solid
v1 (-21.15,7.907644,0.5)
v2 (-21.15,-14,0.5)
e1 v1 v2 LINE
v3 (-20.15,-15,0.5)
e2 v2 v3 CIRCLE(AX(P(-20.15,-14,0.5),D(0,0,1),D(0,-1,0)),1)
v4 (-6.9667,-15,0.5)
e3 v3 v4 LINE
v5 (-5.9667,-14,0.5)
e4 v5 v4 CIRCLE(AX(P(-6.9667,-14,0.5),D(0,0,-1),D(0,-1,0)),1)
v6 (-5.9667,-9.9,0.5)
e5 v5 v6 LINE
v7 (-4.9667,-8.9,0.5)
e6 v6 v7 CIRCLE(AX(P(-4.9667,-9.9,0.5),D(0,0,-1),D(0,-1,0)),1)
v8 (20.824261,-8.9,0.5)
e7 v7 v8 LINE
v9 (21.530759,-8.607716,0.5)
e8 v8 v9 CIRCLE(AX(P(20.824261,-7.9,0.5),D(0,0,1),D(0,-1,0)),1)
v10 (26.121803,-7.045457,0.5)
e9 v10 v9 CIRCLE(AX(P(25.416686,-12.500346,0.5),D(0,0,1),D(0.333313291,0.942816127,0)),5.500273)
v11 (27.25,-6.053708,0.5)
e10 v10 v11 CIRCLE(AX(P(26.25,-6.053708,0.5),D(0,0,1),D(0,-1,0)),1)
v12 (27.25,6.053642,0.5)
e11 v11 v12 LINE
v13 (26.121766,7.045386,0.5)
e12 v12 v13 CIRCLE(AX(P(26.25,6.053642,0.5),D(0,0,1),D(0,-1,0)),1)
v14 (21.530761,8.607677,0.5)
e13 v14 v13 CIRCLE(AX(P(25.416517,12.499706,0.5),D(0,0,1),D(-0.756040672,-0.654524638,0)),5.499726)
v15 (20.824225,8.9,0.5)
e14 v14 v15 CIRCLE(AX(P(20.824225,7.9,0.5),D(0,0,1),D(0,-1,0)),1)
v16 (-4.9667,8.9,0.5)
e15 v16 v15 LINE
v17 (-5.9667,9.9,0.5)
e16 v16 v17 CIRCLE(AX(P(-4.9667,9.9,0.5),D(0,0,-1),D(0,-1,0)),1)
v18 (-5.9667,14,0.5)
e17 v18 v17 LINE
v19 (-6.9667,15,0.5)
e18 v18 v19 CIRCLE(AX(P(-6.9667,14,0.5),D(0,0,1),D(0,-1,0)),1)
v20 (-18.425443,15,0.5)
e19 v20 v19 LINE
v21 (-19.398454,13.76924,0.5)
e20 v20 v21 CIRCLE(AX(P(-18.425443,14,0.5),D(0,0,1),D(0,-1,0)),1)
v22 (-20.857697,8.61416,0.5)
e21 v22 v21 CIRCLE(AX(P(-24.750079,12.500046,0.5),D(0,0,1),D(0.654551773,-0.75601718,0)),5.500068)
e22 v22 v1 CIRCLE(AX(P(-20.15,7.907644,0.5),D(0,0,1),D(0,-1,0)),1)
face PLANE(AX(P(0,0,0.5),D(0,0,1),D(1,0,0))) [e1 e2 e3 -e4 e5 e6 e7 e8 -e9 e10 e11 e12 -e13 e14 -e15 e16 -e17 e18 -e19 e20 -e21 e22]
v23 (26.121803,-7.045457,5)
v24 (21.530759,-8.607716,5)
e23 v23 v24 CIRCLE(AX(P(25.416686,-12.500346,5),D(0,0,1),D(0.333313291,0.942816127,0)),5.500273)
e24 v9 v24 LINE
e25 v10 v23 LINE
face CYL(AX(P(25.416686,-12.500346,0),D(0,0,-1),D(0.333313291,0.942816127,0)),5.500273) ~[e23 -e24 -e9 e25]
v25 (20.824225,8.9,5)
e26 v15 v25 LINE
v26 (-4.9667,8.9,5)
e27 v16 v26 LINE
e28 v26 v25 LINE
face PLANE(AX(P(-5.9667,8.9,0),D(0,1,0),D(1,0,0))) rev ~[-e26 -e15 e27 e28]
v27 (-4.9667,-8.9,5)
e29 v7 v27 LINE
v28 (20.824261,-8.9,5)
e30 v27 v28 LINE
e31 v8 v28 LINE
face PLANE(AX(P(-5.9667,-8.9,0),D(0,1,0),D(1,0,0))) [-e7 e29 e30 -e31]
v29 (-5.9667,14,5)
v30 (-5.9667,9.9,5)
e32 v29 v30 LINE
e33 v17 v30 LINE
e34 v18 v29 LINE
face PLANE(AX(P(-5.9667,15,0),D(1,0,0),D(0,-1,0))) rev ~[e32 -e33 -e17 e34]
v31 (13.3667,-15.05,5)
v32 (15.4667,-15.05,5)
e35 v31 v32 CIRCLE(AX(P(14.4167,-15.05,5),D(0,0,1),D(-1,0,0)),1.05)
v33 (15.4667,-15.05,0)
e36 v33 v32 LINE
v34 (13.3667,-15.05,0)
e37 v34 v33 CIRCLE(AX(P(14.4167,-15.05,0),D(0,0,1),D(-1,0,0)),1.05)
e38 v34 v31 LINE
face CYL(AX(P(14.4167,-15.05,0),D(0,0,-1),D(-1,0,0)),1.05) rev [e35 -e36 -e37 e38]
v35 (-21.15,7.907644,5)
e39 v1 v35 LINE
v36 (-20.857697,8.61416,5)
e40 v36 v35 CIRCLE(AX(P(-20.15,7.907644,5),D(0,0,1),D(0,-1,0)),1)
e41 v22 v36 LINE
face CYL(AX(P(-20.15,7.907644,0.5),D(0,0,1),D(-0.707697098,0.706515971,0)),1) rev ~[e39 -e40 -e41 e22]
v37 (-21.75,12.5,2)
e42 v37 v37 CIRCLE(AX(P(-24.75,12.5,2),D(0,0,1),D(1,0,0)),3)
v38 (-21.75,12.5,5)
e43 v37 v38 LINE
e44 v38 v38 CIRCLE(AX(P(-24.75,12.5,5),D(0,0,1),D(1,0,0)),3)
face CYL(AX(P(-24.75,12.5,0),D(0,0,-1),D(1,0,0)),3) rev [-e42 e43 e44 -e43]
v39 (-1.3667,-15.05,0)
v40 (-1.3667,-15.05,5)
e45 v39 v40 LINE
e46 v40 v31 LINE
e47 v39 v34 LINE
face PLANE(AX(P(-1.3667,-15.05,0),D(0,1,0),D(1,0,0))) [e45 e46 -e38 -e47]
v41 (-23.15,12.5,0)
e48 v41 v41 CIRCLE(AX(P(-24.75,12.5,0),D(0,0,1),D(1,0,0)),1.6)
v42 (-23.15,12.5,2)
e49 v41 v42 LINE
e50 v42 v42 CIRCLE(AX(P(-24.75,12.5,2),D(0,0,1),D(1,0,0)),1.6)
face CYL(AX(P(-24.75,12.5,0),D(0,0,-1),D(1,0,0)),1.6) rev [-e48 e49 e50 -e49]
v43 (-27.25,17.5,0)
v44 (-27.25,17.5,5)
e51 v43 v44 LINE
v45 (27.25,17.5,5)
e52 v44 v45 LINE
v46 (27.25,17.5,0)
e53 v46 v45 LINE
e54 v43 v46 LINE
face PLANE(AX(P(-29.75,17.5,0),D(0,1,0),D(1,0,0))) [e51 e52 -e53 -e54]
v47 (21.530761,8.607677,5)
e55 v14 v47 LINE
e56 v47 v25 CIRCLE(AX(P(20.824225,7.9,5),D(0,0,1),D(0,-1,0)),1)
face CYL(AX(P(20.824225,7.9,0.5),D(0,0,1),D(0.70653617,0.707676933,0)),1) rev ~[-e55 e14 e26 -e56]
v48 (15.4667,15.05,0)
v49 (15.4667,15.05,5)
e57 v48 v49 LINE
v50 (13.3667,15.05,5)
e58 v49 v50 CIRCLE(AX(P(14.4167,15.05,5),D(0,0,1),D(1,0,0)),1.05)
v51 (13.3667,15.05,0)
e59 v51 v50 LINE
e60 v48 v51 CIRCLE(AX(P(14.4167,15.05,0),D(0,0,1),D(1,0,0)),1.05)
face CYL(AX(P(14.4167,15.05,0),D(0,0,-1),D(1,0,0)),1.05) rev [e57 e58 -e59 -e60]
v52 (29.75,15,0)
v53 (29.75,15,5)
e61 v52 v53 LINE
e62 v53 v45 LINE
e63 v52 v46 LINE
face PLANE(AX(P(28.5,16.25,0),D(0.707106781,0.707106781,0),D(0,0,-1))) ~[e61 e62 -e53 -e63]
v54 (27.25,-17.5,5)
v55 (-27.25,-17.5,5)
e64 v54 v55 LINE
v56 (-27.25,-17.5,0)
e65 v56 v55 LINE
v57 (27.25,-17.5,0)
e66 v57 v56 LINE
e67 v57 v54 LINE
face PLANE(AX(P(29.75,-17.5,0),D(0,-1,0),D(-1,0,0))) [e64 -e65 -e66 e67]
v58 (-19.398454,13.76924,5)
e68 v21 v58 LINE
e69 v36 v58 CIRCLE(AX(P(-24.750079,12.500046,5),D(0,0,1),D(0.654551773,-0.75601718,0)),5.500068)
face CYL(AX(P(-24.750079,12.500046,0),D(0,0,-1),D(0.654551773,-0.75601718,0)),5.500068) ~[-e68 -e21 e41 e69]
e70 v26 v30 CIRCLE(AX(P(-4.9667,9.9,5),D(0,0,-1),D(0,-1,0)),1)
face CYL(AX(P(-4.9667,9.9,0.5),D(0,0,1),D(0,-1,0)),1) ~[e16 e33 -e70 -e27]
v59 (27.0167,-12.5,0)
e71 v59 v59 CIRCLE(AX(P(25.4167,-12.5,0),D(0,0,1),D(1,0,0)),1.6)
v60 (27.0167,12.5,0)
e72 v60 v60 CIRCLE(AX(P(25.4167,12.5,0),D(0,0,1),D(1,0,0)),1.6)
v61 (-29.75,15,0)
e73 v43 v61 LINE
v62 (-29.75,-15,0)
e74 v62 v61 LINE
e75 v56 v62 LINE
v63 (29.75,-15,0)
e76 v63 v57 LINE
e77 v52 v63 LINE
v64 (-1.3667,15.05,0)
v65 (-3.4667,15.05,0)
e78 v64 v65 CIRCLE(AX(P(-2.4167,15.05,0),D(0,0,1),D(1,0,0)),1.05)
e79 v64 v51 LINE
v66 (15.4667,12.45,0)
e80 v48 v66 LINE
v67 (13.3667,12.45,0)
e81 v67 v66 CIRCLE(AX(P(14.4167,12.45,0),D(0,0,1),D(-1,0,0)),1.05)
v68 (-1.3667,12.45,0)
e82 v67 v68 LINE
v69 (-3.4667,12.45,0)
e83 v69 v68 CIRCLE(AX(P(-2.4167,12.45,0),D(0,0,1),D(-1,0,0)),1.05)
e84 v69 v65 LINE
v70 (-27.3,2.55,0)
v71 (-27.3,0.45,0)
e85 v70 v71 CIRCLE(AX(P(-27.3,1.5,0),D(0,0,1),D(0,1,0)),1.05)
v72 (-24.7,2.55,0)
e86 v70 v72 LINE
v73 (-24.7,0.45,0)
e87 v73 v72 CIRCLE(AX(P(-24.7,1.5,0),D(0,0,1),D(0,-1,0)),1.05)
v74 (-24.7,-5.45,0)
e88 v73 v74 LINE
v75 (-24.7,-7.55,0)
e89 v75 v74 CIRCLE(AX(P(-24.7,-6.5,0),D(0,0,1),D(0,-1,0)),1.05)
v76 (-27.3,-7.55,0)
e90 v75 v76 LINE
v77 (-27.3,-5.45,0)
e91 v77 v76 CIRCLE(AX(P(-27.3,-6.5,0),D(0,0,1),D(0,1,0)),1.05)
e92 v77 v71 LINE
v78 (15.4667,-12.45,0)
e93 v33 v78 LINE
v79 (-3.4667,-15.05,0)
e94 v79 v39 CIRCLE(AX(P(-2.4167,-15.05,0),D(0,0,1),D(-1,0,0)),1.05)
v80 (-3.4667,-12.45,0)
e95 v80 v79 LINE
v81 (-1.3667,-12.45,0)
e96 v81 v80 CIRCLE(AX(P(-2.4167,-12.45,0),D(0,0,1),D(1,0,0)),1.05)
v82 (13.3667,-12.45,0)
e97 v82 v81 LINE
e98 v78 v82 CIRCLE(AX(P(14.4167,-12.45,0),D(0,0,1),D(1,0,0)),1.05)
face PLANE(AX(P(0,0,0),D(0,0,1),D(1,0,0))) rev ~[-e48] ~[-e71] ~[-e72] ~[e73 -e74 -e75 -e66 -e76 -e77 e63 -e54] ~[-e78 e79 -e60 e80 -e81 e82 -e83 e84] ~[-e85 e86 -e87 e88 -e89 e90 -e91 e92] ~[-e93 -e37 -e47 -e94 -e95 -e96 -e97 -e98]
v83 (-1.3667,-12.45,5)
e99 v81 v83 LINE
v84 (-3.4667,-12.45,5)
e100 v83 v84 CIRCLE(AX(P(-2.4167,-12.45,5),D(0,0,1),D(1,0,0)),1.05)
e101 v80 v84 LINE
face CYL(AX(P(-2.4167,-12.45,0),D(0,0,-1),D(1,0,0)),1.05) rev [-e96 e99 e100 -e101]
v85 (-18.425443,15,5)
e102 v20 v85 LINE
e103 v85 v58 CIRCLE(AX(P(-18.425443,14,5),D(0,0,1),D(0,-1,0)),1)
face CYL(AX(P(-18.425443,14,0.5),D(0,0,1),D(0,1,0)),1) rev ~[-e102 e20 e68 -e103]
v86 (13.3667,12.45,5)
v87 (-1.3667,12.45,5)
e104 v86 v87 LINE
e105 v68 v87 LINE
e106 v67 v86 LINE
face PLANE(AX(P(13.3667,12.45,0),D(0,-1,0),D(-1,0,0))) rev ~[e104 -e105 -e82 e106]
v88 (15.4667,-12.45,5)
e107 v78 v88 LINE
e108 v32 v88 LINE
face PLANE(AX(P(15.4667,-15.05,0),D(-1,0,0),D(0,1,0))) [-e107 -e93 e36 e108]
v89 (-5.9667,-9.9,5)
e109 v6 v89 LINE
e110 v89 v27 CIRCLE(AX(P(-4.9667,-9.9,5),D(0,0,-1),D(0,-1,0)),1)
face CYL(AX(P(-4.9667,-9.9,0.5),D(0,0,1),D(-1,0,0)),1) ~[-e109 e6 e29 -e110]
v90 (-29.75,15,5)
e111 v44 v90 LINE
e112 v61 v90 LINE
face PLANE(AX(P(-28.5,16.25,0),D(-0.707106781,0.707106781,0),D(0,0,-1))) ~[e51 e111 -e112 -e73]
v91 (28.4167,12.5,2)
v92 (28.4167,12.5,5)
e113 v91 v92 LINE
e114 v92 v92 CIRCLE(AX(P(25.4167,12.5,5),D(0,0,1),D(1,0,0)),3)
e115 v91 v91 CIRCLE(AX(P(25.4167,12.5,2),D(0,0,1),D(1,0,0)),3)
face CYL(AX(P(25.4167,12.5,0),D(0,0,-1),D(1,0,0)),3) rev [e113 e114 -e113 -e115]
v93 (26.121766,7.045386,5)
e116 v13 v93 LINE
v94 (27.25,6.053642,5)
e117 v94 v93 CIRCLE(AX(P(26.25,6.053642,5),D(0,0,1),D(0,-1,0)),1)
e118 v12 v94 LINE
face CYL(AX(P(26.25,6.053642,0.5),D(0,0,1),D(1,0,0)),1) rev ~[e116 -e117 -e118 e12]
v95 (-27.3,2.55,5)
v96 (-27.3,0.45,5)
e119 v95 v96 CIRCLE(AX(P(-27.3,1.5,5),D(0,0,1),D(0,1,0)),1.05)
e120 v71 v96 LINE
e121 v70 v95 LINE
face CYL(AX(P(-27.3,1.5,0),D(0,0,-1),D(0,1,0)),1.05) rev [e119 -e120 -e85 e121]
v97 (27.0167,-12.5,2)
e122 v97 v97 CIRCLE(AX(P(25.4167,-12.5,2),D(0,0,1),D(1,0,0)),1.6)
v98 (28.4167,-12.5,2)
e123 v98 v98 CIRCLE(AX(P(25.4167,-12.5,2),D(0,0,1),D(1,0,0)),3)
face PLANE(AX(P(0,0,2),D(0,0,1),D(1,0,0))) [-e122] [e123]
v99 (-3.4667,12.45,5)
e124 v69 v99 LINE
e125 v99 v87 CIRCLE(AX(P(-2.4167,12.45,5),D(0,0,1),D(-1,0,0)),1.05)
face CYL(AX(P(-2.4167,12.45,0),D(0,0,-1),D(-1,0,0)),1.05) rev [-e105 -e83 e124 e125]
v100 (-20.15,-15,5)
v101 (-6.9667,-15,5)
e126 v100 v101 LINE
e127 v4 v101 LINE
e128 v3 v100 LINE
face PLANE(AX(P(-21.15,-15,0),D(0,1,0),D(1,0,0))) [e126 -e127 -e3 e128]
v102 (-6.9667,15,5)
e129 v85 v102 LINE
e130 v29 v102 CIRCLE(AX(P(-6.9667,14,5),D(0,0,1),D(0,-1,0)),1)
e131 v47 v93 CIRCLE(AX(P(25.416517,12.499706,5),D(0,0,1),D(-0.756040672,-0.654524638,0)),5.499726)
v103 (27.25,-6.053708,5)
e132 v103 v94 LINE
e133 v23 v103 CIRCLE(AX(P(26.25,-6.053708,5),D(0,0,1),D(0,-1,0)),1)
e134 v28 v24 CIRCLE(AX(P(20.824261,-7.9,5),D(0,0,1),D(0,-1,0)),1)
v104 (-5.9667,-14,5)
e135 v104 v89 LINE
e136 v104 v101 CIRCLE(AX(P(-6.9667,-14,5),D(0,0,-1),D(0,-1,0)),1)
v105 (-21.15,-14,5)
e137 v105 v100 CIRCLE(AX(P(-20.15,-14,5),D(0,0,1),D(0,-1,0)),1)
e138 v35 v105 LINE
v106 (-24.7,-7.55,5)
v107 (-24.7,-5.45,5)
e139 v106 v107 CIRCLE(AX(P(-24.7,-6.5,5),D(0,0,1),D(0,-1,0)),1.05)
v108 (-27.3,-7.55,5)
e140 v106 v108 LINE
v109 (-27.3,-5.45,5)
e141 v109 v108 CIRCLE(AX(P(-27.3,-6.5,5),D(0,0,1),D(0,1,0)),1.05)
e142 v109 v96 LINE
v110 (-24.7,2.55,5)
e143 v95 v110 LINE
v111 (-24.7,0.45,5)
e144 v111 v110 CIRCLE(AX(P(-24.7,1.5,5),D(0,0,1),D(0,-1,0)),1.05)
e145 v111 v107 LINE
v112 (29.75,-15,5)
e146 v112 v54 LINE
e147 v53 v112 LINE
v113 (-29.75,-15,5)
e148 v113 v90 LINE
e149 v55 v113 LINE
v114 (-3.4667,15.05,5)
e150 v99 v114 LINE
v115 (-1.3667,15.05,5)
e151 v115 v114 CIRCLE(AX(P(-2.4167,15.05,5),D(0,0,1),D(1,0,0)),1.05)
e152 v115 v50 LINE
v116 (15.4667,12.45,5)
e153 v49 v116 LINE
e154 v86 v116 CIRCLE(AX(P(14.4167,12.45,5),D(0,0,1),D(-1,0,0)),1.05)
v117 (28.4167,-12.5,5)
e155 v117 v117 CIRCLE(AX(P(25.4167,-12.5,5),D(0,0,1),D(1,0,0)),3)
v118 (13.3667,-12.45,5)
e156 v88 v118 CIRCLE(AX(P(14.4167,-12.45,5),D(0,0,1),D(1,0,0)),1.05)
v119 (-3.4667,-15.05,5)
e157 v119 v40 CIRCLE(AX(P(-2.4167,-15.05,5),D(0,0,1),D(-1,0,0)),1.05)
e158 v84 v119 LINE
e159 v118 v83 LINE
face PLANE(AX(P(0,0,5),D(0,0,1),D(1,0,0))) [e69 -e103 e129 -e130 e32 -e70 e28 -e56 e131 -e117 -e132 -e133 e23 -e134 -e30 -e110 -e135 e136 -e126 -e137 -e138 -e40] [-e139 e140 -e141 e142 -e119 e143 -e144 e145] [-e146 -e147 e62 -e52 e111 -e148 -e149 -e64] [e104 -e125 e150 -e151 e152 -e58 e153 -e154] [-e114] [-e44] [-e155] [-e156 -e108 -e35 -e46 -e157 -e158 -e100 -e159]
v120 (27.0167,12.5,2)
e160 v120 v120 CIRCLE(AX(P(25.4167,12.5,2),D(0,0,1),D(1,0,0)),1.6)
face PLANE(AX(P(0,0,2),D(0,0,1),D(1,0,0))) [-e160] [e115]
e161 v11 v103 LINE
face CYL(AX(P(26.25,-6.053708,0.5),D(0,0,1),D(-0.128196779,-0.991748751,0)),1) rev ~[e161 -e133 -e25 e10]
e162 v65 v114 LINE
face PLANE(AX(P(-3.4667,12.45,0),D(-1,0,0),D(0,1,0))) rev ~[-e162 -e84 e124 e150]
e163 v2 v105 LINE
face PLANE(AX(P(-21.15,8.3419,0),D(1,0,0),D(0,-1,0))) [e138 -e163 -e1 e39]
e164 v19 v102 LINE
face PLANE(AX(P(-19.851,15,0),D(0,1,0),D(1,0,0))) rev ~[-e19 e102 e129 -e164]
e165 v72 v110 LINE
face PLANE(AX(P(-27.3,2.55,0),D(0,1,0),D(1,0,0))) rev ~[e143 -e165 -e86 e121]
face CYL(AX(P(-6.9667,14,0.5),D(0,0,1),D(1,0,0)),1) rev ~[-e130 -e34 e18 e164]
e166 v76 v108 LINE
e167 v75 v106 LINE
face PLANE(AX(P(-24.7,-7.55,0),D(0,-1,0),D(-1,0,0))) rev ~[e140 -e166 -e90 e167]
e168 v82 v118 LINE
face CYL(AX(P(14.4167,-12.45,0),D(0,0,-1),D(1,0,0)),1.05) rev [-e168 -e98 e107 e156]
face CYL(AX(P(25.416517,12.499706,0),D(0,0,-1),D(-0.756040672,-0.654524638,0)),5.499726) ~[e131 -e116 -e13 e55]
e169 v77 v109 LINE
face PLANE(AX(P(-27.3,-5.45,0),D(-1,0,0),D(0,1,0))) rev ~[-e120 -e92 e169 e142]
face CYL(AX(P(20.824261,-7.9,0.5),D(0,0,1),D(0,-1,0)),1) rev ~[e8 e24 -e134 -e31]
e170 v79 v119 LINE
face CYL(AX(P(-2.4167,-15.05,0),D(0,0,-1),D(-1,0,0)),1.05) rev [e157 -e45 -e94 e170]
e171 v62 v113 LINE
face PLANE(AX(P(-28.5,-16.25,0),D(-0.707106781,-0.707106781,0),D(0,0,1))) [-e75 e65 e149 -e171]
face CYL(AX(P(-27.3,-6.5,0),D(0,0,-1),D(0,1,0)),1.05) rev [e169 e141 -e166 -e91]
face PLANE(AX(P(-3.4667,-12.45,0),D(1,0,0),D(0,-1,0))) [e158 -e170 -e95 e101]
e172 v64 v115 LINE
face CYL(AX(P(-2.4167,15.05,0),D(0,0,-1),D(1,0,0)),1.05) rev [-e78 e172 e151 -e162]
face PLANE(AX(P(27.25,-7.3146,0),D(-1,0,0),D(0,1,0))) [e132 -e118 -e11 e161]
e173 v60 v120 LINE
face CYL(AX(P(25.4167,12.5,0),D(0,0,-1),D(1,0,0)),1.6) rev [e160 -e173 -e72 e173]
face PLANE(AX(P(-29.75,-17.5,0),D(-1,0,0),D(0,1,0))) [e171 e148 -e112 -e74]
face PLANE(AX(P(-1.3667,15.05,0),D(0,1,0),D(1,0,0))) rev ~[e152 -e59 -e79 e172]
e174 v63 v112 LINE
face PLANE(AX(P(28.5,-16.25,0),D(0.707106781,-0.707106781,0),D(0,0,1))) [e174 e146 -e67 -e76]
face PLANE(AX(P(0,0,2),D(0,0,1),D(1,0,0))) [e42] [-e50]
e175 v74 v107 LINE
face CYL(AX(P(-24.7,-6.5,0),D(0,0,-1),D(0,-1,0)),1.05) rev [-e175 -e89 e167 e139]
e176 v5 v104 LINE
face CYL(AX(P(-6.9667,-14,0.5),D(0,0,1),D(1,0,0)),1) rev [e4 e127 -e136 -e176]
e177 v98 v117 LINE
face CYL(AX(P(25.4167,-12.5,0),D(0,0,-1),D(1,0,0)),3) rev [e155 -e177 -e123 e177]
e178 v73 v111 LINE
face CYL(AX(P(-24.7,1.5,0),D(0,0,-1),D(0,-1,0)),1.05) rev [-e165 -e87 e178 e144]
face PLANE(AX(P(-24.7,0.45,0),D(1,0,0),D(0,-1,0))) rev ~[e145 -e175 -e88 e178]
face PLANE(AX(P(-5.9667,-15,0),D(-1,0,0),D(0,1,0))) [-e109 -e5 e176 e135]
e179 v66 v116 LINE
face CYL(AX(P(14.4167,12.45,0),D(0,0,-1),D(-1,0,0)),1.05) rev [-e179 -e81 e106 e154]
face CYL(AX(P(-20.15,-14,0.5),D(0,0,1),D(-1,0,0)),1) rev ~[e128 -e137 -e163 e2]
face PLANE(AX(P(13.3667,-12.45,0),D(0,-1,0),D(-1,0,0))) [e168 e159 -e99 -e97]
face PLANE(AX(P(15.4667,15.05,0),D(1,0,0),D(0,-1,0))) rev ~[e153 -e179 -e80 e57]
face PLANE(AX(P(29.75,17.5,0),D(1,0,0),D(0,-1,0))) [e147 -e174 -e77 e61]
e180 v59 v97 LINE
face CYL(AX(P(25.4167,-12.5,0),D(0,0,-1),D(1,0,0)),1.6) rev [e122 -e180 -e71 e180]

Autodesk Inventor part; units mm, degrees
ref_plane "YZ Plane" through (0, 0, 0) normal (1, 0, 0) x (0, 1, 0)
ref_plane "XZ Plane" through (0, 0, 0) normal (0, 1, 0) x (-1, 0, 0)
ref_plane "XY Plane" through (0, 0, 0) normal (0, 0, 1) x (1, 0, 0)
sketch "スケッチ1" plane through (0, 0, 0) normal (0, 0, 1) x (1, 0, 0)
  line L0 (29.75, 17.5) -> (29.75, -17.5)
  line L1 (29.75, -17.5) -> (-29.75, -17.5)
  line L2 (-29.75, -17.5) -> (-29.75, 17.5)
  line L3 (-29.75, 17.5) -> (29.75, -17.5) construction
  line L4 (29.75, 17.5) -> (-29.75, -17.5) construction
  line L5 (-3.4667, -15.05) -> (-1.3667, -15.05) construction
  line L6 (15.4667, -15.05) -> (15.4667, -12.45)
  line L7 (15.4667, -12.45) -> (13.3667, -12.45) construction
  line L8 (-3.4667, -12.45) -> (-3.4667, -15.05)
  line L9 (-3.4667, -15.05) -> (15.4667, -12.45) construction
  line L10 (15.4667, -15.05) -> (-3.4667, -12.45) construction
  line L11 (-3.4167, -12.5) -> (15.4167, -12.5) construction
  line L12 (15.4167, -12.5) -> (15.4167, -15) construction
  line L13 (15.4167, -15) -> (-3.4167, -15) construction
  line L14 (-3.4167, -15) -> (-3.4167, -12.5) construction
  line L15 (-3.4167, -12.5) -> (15.4167, -15) construction
  line L16 (15.4167, -12.5) -> (-3.4167, -15) construction
  arc A0 (-1.3667, -12.45) -> (-3.4667, -12.45) centre (-2.4167, -12.45) ccw
  line L17 (-3.4667, -13.75) -> (15.4667, -13.75) construction
  arc A1 (-3.4667, -15.05) -> (-1.3667, -15.05) centre (-2.4167, -15.05) ccw
  line L18 (-1.3667, -12.45) -> (-3.4667, -12.45) construction
  line L19 (-1.3667, -15.05) -> (13.3667, -15.05)
  line L20 (13.3667, -12.45) -> (-1.3667, -12.45)
  line L21 (13.3667, -15.05) -> (15.4667, -15.05) construction
  line L22 (-29.75, 17.5) -> (29.75, 17.5)
  line L23 (6, 17.5) -> (6, -17.5) construction
  line L24 (-29.75, 0) -> (29.75, 0) construction
  arc A2 (15.4667, -12.45) -> (13.3667, -12.45) centre (14.4167, -12.45) ccw
  arc A3 (13.3667, -15.05) -> (15.4667, -15.05) centre (14.4167, -15.05) ccw
  line L25 (-3.4667, 15.05) -> (-1.3667, 15.05) construction
  line L26 (15.4667, 15.05) -> (15.4667, 12.45)
  line L27 (15.4667, 12.45) -> (13.3667, 12.45) construction
  line L28 (-3.4667, 12.45) -> (-3.4667, 15.05)
  line L29 (-3.4667, 15.05) -> (15.4667, 12.45) construction
  line L30 (15.4667, 15.05) -> (-3.4667, 12.45) construction
  line L31 (-3.4167, 12.5) -> (15.4167, 12.5) construction
  line L32 (15.4167, 12.5) -> (15.4167, 15) construction
  line L33 (15.4167, 15) -> (-3.4167, 15) construction
  line L34 (-3.4167, 15) -> (-3.4167, 12.5) construction
  line L35 (-3.4167, 12.5) -> (15.4167, 15) construction
  line L36 (15.4167, 12.5) -> (-3.4167, 15) construction
  arc A4 (-3.4667, 12.45) -> (-1.3667, 12.45) centre (-2.4167, 12.45) ccw
  line L37 (-3.4667, 13.75) -> (15.4667, 13.75) construction
  arc A5 (-1.3667, 15.05) -> (-3.4667, 15.05) centre (-2.4167, 15.05) ccw
  line L38 (-1.3667, 12.45) -> (-3.4667, 12.45) construction
  line L39 (-1.3667, 15.05) -> (13.3667, 15.05)
  line L40 (13.3667, 12.45) -> (-1.3667, 12.45)
  line L41 (13.3667, 15.05) -> (15.4667, 15.05) construction
  arc A6 (15.4667, 15.05) -> (13.3667, 15.05) centre (14.4167, 15.05) ccw
  arc A7 (13.3667, 12.45) -> (15.4667, 12.45) centre (14.4167, 12.45) ccw
  circle A8 centre (25.4167, -12.5) radius 1.6
  circle A9 centre (25.4167, -12.5) radius 3
  circle A10 centre (25.4167, 12.5) radius 1.6
  circle A11 centre (25.4167, 12.5) radius 3
  circle A12 centre (-24.75, 12.5) radius 1.6
  circle A13 centre (-24.75, 12.5) radius 3
  line L42 (-5.9667, -15) -> (-5.9667, -8.9)
  line L43 (-5.9667, -8.9) -> (21.2585, -8.9)
  line L44 (27.25, -7.3146) -> (27.25, 7.3146)
  line L45 (-19.851, 15) -> (-5.9167, 15)
  arc A14 (-21.15, 8.3419) -> (-19.851, 15) centre (-24.75, 12.5) ccw
  line L46 (-27.25, 2.5) -> (-24.75, 2.5) construction
  line L47 (-24.75, 2.5) -> (-24.75, -7.5) construction
  line L48 (-24.75, -7.5) -> (-27.25, -7.5) construction
  line L49 (-27.25, -7.5) -> (-27.25, 2.5) construction
  line L50 (-27.25, 2.5) -> (-24.75, -7.5) construction
  line L51 (-24.75, 2.5) -> (-27.25, -7.5) construction
  line L52 (-27.3, 2.55) -> (-24.7, 2.55)
  line L53 (-24.7, 2.55) -> (-24.7, -7.55)
  line L54 (-24.7, -7.55) -> (-27.3, -7.55)
  line L55 (-27.3, -7.55) -> (-27.3, 2.55)
  line L56 (-27.3, 2.55) -> (-24.7, -7.55) construction
  line L57 (-24.7, 2.55) -> (-27.3, -7.55) construction
  arc A15 (-27.3, 2.55) -> (-27.3, 0.45) centre (-27.3, 1.5) ccw
  line L58 (-26, 2.55) -> (-26, -7.55) construction
  line L59 (-27.3, -2.5) -> (-24.7, -2.5) construction
  arc A16 (-24.7, 0.45) -> (-24.7, 2.55) centre (-24.7, 1.5) ccw
  arc A17 (-27.3, -5.45) -> (-27.3, -7.55) centre (-27.3, -6.5) ccw
  arc A18 (-24.7, -7.55) -> (-24.7, -5.45) centre (-24.7, -6.5) ccw
  line L60 (-21.15, 8.3419) -> (-21.15, -15)
  line L61 (-5.9667, 15) -> (-5.9667, 8.9)
  line L62 (-21.15, -15) -> (-5.9667, -15)
  arc A19 (27.25, -7.3146) -> (21.2585, -8.9) centre (25.4167, -12.5) ccw
  line L63 (-5.9667, 8.9) -> (21.2585, 8.9)
  arc A20 (21.2585, 8.9) -> (27.25, 7.3146) centre (25.4167, 12.5) ccw
  point P0 (0, 0)
  point P1 (6, -13.75)
  point P2 (6, -13.75)
  point P3 (6, -13.75)
  point P4 (6, 13.75)
  point P5 (6, 13.75)
  point P6 (6, 13.75)
  point P7 (-26, -2.5)
  point P8 (-27.3, -5.45)
  point P9 (-24.7, 0.45)
  point P10 (-24.7, -5.45)
  point P11 (-5.9667, 15)
  point P12 (27.25, 7.3146)
  dimension "d0" = 59.5
  dimension "d1" = 35
  dimension "d6" = 18.8333
  dimension "d7" = 0.05
  dimension "d8" = 0.05
  dimension "d9" = 1.05
  dimension "d26" = 35.75
  dimension "d27" = 5
  dimension "d31" = 3.2
  dimension "d32" = 6
  dimension "d33" = 5
  dimension "d34" = 10
  dimension "d39" = 5
  dimension "d40" = 5
  dimension "d41" = 3.2
  dimension "d42" = 6
  dimension "d43" = 2.5
  dimension "d50" = 2.5
  dimension "d51" = 2.5
  dimension "d54" = 2.5
  dimension "d56" = 2.5
  dimension "d60" = 1.05
  dimension "d61" = 0.05
  dimension "d62" = 0.05
  dimension "d63" = 2.5
  dimension "d64" = 2.5
  dimension "d65" = 10
  dimension "d68" = 2.5
  dimension "d71" = 2.5
  dimension "d75" = 10
  dimension "d76" = 2.5
  dimension "d77" = 2.5
extrude "押し出し1" add sketch "スケッチ1" along normal blind 5 contours L0 L1 L2 L22
extrude "押し出し2" add sketch "スケッチ1" along normal blind 2 contours A9 | A11 | A13
chamfer "面取り1" distance 2.5 angle 45 4 edges at (-29.75, 17.5, 2.5) (-29.75, -17.5, 2.5) (29.75, 17.5, 2.5) (29.75, -17.5, 2.5)
extrude "押し出し3" add sketch "スケッチ1" along normal blind 0.5 contours L62 L60 A14 L45 L61 L63 A20 L44 A19 L43 L42
fillet "フィレット1" radius 1 11 edges at (-19.851, 15, 2.75) (-21.15, 8.3419, 2.75) (-5.9667, -8.9, 2.75) (-5.9667, 15, 2.75) (-5.9667, -15, 2.75) (-21.15, -15, 2.75) (21.2585, 8.9, 2.75) (27.25, 7.3146, 2.75) (27.25, -7.3146, 2.75) (21.2585, -8.9, 2.75) (-5.9667, 8.9, 2.75)
equation "\"d6\" = d4"
equation "\"d8\" = d7"
equation "\"d41\" = d31"
equation "\"d42\" = d32"
equation "\"d50\" = d49"
equation "\"d60\" = d9"
equation "\"d61\" = d7"
equation "\"d62\" = d61"
equation "\"d4\" = 18.833333"
equation "\"d49\" = 2.5"
properties part number "Cockpit_vertical_frame_05" material "アセタール樹脂、黒"
